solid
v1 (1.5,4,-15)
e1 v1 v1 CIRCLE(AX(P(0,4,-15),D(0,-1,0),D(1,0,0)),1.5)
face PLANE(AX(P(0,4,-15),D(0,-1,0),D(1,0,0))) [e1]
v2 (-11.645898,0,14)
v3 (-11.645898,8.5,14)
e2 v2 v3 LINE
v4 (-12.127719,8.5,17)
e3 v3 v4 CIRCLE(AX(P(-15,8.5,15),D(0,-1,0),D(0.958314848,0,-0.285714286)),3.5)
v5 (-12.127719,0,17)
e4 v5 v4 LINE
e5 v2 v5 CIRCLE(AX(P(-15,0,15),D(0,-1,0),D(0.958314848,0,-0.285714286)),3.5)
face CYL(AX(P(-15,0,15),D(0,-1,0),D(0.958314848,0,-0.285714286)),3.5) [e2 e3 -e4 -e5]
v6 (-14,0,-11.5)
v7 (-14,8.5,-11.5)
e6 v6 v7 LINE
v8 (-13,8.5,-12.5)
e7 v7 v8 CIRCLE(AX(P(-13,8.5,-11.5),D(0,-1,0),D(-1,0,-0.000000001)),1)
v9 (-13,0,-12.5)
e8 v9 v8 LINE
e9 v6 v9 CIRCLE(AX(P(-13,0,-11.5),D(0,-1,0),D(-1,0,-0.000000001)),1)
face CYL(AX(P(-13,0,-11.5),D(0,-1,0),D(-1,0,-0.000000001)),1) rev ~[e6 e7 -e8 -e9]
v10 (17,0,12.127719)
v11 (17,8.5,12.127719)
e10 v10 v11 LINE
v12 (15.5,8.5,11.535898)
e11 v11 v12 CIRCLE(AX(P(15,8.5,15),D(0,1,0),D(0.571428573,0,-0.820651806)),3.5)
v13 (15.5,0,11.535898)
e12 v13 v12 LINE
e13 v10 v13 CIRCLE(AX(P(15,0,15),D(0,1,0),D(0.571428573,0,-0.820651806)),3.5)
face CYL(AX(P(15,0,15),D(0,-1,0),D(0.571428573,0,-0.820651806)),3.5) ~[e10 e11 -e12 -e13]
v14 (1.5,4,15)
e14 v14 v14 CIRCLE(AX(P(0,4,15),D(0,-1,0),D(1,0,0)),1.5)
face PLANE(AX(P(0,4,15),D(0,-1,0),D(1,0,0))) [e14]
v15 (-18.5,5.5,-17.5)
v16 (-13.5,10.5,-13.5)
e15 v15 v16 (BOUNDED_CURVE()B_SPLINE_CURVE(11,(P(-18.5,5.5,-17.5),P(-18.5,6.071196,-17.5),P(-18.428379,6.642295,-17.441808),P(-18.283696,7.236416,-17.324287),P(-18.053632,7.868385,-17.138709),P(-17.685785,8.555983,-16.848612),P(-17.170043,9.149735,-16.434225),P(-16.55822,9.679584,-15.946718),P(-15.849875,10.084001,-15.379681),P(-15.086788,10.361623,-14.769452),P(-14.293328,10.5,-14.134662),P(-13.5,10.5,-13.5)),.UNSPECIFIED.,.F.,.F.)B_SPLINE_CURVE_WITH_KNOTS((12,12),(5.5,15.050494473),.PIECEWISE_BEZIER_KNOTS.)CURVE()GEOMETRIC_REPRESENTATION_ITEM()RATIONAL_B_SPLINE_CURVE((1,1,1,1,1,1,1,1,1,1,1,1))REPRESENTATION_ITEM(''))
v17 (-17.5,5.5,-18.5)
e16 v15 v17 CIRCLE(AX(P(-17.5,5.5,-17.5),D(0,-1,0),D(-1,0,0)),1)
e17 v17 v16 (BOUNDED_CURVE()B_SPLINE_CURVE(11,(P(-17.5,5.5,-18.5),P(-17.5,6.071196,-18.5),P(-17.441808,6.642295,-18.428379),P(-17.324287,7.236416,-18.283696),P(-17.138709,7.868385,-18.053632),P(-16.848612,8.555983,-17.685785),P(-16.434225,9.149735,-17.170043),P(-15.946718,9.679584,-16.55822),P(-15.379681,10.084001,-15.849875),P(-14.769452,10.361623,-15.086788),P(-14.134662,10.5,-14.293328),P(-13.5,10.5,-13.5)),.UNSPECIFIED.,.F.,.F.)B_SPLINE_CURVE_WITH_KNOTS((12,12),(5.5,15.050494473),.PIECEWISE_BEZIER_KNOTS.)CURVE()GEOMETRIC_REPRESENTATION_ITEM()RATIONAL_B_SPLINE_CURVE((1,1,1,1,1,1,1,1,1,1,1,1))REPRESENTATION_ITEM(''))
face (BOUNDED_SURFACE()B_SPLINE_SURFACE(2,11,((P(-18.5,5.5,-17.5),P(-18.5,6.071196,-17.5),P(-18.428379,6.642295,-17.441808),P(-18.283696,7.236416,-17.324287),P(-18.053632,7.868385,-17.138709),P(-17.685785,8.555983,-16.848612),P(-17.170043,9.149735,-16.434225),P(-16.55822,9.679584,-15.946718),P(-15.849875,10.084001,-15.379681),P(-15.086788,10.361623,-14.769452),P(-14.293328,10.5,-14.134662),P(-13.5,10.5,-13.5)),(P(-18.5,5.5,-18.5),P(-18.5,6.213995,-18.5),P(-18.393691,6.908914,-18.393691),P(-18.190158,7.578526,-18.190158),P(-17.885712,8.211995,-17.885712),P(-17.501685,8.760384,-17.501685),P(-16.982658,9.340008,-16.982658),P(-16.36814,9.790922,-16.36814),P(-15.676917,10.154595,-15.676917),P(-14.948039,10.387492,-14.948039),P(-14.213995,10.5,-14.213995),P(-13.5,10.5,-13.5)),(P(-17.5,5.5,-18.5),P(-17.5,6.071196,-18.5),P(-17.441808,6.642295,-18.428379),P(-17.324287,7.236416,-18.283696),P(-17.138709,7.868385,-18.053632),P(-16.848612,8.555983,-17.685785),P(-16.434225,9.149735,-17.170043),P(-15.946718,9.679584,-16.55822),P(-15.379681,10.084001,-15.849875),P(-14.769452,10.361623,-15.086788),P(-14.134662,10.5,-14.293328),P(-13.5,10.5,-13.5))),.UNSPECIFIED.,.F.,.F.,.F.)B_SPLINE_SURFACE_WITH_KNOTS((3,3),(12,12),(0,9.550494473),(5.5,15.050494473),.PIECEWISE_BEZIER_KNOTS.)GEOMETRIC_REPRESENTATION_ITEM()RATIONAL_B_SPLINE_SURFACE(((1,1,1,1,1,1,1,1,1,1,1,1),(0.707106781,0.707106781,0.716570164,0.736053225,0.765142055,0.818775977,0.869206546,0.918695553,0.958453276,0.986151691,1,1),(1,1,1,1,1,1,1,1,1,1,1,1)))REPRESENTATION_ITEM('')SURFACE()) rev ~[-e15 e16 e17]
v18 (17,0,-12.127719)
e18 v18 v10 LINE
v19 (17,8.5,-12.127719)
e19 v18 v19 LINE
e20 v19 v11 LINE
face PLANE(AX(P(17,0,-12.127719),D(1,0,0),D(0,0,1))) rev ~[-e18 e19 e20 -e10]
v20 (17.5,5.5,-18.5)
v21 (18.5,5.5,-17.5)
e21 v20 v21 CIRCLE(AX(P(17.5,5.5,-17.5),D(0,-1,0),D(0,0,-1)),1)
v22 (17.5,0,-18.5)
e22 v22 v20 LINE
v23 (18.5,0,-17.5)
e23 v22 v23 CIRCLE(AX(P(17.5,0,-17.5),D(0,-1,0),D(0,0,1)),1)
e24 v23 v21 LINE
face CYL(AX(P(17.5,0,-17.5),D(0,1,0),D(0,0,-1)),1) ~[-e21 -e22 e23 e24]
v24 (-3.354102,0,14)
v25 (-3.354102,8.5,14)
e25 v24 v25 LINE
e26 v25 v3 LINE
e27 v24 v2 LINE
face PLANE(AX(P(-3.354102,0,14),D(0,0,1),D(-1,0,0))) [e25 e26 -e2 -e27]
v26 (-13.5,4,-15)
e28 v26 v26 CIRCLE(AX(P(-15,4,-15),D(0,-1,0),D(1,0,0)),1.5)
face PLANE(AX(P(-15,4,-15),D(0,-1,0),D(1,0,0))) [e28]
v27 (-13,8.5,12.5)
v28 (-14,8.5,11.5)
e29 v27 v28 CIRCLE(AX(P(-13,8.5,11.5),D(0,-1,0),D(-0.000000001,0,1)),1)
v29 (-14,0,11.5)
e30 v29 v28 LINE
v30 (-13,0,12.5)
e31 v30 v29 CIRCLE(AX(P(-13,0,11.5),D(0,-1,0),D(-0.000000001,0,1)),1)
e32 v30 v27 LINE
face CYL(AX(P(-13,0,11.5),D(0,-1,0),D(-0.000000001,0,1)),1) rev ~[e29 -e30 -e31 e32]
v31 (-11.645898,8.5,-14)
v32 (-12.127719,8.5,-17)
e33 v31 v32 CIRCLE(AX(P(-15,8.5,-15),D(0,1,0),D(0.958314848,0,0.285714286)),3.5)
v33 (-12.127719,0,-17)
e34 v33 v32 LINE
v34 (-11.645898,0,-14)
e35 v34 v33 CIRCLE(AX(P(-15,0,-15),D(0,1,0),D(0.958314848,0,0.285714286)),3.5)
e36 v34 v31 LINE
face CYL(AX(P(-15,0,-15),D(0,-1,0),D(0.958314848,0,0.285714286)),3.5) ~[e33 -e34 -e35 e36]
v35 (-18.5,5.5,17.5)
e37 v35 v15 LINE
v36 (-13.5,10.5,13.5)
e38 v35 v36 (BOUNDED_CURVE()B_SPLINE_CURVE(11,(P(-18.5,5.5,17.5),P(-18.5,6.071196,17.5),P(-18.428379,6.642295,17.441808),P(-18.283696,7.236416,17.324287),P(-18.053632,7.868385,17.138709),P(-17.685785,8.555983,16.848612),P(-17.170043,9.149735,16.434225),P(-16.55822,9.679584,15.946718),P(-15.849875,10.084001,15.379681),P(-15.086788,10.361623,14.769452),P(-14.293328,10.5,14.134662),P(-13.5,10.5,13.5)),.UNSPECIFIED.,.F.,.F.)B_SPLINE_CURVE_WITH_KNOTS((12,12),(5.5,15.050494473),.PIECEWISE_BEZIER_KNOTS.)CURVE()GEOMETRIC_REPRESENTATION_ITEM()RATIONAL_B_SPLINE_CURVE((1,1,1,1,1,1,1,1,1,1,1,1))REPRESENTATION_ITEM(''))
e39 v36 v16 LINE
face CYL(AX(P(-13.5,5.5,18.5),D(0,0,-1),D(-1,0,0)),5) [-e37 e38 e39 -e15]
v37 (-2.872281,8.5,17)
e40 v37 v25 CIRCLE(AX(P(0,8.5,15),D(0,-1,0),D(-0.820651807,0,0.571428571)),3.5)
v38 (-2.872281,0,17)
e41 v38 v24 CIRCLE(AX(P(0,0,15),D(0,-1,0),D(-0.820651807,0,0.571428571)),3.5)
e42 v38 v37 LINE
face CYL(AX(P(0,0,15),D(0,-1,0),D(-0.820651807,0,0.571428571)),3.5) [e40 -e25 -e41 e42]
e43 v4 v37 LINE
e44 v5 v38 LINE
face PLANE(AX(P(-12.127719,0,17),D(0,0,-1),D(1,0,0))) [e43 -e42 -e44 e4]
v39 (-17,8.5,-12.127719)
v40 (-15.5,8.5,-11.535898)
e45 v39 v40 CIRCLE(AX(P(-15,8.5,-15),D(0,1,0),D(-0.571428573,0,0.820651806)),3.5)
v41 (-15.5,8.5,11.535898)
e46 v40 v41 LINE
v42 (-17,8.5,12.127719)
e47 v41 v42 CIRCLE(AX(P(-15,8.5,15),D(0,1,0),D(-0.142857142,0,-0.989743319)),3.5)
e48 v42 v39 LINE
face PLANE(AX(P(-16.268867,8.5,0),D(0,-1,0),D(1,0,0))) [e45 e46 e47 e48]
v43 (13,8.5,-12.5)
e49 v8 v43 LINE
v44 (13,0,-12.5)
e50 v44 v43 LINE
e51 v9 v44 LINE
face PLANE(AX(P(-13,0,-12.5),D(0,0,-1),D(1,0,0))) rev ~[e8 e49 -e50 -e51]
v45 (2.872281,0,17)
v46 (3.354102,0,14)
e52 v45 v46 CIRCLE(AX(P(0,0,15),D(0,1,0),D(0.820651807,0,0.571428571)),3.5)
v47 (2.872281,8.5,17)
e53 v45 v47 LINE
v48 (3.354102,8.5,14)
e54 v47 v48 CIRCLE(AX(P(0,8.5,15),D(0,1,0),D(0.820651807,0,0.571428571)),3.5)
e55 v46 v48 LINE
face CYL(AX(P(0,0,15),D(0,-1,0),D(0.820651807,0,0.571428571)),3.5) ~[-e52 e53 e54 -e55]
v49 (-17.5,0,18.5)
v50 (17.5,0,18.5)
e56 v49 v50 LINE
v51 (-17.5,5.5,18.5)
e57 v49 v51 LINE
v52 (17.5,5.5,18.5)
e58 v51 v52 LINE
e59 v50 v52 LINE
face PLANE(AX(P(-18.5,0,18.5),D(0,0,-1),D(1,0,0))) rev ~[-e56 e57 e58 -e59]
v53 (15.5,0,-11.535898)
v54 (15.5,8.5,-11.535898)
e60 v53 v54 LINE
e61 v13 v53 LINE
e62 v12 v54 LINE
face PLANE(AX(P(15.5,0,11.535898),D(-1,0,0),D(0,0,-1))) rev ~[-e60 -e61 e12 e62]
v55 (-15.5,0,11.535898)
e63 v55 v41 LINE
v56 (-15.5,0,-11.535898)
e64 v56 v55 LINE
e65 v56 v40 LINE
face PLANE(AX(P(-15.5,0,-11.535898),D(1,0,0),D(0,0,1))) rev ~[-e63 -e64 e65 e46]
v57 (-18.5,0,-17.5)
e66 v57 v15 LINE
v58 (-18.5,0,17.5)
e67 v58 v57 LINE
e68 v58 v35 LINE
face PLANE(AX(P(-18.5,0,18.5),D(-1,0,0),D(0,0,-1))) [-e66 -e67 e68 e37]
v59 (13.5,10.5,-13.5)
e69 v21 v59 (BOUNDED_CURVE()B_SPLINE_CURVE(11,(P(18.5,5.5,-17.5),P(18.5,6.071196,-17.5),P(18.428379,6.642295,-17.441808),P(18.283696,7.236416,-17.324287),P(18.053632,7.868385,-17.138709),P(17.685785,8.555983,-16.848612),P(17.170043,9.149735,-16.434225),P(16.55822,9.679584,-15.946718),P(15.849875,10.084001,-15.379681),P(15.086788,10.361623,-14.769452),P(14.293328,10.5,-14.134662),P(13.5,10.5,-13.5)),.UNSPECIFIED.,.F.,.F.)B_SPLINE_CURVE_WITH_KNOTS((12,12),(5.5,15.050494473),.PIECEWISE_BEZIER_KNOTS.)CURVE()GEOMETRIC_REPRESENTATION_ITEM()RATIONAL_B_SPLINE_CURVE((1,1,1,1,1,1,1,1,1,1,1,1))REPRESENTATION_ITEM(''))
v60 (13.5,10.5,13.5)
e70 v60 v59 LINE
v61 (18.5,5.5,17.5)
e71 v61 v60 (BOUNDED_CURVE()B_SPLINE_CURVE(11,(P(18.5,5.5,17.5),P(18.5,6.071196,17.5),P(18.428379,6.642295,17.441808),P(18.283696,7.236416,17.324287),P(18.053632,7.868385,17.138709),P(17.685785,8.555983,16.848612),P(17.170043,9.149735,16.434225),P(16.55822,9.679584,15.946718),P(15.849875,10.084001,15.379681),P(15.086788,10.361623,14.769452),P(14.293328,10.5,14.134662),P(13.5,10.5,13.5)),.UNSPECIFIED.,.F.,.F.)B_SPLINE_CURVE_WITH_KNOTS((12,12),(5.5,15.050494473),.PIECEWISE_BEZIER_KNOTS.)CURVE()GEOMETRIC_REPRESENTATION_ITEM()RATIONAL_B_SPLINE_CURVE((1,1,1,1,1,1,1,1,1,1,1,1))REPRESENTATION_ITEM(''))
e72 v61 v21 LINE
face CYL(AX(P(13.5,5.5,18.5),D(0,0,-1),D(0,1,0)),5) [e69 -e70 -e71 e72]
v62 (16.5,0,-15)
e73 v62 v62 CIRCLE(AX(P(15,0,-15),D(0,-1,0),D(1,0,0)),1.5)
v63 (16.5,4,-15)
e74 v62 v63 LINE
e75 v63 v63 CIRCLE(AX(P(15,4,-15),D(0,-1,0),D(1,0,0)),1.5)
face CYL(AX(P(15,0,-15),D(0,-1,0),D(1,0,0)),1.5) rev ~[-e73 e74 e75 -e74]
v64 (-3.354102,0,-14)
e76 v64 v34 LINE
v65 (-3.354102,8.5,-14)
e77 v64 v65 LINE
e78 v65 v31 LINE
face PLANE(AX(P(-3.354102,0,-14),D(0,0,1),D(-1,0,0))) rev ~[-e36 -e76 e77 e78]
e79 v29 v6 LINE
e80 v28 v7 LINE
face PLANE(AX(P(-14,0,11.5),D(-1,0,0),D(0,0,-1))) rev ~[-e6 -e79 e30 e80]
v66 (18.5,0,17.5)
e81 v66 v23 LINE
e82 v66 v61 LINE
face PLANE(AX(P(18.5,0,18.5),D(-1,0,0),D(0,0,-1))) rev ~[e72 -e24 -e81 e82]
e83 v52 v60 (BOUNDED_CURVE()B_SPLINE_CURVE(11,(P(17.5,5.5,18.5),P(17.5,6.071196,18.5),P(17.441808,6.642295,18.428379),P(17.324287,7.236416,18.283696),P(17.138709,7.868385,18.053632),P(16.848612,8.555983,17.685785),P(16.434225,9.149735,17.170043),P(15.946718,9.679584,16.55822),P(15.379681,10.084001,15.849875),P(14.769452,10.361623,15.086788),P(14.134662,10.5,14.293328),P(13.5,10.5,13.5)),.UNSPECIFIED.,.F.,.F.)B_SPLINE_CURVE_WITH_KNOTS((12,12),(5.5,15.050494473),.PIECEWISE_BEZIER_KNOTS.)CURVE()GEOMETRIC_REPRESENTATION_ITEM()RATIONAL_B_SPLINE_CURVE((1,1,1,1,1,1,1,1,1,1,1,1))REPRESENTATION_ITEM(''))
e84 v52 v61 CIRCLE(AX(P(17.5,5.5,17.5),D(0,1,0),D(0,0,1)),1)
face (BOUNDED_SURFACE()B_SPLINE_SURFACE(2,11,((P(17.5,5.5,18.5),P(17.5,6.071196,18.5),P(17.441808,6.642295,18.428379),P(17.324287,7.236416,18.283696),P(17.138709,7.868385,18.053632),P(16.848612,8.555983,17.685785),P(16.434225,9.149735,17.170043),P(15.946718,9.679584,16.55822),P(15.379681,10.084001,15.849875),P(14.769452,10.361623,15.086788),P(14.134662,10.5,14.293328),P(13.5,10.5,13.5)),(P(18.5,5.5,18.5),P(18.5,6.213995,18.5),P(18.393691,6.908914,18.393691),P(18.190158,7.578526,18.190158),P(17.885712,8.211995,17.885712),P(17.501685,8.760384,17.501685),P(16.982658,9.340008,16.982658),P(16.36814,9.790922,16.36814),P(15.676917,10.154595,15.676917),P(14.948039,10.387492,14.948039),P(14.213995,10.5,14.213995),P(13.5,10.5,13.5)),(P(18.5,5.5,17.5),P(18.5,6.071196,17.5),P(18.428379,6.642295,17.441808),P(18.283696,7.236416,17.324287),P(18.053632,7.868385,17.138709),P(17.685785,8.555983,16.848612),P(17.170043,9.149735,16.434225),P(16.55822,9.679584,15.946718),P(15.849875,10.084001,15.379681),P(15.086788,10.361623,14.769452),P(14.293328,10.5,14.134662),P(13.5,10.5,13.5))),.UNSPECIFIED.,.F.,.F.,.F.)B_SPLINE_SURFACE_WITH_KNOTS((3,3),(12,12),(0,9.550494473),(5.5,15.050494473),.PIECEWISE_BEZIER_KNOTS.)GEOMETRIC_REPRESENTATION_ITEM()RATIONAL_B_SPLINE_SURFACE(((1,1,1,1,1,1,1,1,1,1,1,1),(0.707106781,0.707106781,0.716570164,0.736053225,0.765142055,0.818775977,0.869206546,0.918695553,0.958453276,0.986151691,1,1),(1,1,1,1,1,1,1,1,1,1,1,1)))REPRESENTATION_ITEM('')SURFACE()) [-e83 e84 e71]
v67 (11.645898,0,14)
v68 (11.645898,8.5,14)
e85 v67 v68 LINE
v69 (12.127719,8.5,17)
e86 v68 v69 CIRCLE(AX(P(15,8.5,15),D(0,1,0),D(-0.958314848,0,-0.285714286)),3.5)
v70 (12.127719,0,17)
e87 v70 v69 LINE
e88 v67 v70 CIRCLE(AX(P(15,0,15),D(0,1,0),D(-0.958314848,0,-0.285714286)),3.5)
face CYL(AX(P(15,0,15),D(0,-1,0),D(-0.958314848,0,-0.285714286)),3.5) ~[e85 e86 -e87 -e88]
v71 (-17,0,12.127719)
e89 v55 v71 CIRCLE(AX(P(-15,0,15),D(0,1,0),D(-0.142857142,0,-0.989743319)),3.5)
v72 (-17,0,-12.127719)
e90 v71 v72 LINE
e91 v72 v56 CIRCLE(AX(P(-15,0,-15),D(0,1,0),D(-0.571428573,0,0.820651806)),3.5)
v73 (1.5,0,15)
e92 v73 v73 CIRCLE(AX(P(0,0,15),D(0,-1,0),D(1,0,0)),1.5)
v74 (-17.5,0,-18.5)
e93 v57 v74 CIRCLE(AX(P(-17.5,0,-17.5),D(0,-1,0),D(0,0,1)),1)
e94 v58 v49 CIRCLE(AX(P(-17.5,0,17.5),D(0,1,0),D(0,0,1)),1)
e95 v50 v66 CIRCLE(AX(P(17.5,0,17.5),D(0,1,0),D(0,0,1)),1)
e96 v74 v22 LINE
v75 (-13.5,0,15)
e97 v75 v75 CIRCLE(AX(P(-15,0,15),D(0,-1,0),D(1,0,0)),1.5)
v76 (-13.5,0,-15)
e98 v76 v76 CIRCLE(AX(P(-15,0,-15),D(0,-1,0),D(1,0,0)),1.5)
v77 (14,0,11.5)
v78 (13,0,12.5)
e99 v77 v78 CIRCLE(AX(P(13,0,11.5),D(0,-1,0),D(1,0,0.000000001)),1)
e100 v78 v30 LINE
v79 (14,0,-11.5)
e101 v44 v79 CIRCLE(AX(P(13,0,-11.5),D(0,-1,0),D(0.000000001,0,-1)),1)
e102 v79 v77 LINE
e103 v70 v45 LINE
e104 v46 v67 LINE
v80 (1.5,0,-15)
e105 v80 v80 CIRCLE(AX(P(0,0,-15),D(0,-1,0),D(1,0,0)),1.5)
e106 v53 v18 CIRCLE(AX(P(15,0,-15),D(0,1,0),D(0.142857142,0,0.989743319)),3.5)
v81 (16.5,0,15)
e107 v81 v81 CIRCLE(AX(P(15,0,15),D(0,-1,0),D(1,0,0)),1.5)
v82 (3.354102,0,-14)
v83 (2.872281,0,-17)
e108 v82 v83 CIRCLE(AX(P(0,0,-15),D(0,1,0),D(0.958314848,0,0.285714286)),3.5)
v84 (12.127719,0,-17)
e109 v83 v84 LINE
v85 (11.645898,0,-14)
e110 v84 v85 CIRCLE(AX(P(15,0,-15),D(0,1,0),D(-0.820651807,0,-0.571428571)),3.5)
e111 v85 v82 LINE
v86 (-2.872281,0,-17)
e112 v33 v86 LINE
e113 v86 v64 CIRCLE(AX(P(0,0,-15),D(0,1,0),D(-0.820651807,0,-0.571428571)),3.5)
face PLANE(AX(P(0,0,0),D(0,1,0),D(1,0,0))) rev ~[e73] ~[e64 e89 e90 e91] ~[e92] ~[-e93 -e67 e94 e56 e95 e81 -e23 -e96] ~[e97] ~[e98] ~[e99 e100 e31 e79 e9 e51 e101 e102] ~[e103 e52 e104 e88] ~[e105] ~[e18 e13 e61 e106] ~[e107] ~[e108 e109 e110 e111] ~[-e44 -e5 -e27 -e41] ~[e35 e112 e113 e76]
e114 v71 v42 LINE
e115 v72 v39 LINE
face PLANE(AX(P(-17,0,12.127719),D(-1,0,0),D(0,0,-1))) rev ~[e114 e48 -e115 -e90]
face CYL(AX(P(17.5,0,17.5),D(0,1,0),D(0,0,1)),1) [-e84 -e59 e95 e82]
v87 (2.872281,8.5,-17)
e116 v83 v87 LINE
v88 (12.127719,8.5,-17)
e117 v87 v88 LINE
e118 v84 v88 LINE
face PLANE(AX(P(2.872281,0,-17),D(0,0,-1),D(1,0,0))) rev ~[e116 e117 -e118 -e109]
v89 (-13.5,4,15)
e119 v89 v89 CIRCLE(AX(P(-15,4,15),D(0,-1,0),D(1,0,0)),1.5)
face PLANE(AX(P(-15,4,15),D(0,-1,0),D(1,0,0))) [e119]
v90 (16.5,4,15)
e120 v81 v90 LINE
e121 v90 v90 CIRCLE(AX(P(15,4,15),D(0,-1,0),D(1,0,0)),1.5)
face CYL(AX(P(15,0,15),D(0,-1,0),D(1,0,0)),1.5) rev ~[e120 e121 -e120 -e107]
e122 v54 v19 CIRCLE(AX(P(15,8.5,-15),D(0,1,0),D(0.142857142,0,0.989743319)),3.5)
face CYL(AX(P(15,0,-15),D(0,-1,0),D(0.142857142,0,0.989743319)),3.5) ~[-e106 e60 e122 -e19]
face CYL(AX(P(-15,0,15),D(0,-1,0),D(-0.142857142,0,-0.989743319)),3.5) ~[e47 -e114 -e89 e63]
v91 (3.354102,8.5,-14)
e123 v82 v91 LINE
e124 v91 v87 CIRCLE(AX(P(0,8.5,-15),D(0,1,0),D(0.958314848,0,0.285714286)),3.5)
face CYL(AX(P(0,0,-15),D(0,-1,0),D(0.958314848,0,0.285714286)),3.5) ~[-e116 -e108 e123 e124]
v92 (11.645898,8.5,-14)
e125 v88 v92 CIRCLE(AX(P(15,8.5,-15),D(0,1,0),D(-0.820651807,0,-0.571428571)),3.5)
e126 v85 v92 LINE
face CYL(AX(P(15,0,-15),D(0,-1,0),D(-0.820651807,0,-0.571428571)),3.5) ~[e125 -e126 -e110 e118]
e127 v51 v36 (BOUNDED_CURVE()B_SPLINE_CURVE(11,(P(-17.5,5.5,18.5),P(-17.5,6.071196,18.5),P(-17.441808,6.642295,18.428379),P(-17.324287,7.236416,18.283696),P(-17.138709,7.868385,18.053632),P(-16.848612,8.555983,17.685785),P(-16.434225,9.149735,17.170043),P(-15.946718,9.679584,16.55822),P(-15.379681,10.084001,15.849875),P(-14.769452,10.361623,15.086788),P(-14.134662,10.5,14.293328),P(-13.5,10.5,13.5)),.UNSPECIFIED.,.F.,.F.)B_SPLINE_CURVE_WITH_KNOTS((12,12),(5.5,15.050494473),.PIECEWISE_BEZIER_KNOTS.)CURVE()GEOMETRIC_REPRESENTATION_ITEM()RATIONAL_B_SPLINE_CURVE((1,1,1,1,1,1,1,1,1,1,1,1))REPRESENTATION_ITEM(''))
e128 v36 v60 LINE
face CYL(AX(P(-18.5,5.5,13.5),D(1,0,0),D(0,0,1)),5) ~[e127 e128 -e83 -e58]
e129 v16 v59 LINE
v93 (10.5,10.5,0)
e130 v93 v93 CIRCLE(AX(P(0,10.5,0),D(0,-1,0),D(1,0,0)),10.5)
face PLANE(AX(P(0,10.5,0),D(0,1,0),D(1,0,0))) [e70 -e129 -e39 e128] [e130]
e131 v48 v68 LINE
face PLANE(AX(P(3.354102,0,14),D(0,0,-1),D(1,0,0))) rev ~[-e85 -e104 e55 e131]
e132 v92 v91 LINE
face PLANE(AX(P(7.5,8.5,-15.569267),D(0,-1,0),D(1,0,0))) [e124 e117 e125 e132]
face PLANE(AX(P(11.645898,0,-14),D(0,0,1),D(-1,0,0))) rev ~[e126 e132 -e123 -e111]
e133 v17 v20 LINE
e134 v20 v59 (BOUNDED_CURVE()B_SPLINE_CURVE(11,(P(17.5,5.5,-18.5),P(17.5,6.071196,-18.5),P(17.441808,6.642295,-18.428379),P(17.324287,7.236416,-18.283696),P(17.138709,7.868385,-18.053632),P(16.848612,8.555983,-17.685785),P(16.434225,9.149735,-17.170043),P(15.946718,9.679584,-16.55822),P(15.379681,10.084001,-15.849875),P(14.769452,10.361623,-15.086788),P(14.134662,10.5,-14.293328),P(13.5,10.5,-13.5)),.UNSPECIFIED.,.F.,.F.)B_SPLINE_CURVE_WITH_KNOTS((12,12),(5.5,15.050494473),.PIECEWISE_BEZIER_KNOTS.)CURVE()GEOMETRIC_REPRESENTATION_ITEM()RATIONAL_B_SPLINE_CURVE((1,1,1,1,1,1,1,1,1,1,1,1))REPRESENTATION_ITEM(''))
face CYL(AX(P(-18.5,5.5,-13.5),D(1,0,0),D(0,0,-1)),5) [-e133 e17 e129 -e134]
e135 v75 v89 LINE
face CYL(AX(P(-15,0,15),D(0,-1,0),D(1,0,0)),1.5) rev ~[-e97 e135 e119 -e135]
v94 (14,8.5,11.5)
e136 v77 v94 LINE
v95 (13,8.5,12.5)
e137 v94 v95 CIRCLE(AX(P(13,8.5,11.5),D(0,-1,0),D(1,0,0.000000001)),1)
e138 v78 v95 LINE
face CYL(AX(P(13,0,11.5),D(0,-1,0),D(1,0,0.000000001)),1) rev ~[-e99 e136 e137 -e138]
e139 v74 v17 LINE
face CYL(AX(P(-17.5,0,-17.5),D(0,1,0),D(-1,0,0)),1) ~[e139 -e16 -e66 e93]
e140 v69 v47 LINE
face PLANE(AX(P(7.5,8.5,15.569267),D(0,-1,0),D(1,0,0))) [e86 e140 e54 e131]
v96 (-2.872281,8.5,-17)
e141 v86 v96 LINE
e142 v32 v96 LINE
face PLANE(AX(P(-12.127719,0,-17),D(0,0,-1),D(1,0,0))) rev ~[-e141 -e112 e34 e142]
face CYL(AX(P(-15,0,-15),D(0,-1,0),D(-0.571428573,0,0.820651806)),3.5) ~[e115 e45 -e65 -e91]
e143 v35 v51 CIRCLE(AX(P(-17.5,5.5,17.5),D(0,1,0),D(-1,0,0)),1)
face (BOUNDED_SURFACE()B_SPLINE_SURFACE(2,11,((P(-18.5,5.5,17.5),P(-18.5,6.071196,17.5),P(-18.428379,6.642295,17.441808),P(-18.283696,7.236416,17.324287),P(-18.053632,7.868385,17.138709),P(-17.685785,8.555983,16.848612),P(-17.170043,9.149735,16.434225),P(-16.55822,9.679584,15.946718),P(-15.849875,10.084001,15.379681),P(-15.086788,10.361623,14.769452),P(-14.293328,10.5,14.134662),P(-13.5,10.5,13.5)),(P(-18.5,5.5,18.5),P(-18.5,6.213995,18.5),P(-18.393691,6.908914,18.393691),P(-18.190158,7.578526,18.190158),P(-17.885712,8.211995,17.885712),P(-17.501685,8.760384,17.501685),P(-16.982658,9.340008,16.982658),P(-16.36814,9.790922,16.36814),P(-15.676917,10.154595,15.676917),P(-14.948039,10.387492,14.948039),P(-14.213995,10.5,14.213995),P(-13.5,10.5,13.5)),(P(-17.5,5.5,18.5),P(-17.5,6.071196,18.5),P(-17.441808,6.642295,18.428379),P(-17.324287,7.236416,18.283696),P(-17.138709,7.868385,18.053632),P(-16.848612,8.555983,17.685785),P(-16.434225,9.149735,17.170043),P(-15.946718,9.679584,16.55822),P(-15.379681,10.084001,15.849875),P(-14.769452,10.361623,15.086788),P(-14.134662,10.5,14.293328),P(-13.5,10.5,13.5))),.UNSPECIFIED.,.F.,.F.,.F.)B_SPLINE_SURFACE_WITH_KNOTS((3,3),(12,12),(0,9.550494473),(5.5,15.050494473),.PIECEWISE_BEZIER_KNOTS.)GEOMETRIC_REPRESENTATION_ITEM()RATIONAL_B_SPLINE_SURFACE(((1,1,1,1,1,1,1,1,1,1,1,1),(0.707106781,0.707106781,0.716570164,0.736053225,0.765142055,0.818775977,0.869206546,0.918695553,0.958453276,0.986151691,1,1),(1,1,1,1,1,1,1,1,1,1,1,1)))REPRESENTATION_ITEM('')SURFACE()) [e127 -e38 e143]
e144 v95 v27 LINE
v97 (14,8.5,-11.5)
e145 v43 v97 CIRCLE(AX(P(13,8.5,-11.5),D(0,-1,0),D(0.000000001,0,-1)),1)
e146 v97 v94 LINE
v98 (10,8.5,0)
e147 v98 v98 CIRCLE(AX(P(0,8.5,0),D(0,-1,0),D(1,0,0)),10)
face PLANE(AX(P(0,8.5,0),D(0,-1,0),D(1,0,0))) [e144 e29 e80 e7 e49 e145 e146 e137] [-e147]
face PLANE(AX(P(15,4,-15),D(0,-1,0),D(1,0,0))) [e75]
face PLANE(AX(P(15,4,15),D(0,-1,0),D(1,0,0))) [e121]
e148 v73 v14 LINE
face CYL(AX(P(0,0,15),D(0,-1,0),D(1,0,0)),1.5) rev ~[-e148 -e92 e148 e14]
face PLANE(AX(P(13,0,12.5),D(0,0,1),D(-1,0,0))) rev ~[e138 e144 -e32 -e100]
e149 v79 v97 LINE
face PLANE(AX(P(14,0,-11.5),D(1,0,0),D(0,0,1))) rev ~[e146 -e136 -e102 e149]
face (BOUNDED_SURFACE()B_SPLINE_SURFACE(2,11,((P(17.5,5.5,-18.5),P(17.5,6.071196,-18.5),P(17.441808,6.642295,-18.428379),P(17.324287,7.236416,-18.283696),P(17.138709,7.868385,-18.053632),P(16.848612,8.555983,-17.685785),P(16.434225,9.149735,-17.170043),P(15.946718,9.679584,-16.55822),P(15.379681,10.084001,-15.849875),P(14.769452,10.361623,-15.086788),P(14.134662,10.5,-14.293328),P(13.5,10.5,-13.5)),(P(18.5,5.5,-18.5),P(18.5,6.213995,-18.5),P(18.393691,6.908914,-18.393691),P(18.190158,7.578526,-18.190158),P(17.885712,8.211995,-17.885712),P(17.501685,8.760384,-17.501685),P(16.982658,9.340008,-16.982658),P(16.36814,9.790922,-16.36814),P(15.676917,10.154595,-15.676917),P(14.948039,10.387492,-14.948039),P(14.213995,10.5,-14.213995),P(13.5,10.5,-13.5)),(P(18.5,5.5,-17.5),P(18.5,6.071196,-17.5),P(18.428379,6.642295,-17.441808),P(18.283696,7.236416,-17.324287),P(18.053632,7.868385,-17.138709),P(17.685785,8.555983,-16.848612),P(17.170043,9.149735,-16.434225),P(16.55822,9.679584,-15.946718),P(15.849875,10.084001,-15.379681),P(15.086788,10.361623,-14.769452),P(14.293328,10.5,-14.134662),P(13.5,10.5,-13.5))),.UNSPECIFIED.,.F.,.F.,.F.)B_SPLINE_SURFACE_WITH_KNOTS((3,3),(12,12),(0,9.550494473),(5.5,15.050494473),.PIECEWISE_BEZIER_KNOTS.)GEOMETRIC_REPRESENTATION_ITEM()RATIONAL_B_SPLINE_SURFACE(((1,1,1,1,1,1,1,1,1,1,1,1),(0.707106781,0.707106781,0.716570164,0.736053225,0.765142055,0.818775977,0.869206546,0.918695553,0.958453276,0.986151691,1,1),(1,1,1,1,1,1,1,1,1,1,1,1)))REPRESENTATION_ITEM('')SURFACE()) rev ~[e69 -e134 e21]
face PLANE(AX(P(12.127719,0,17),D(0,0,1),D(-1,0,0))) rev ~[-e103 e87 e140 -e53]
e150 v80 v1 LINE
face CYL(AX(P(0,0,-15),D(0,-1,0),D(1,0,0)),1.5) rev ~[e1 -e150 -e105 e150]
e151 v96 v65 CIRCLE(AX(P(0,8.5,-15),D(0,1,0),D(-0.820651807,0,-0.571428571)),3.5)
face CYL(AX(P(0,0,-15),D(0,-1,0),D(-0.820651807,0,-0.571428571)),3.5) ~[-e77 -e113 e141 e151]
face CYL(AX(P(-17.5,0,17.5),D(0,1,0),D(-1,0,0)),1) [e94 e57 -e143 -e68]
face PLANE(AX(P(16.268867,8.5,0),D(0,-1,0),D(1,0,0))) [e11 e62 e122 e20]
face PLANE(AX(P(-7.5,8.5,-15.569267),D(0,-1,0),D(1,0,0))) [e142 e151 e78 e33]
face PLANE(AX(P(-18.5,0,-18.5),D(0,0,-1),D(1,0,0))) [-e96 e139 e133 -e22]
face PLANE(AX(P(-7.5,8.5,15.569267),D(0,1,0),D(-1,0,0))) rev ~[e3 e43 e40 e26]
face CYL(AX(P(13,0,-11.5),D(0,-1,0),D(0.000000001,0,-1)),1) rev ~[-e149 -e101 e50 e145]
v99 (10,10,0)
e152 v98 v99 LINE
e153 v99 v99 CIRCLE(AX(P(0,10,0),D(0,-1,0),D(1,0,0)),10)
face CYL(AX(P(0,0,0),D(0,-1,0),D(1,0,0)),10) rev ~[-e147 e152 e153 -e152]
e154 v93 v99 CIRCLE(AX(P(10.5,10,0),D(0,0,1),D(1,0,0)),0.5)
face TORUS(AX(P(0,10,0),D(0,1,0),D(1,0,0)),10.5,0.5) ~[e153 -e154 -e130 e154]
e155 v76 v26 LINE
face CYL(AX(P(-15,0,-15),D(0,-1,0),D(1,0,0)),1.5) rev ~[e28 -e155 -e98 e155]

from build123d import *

# Parameters (mm, degrees)
SKETCH_1_W          = 37
SKETCH_1_H          = 37
EXTRUDE_1_DEPTH     = 10.5
SKETCH_2_R          = 10
CUT_EXTRUDE_1_DEPTH = 11.5
FILLET_1_R          = 5
FILLET_2_R          = 1
SKETCH_3_R          = 1.5
CUT_EXTRUDE_2_DEPTH = 4
CUT_EXTRUDE_3_DEPTH = 8.5
CUT_EXTRUDE_4_DEPTH = 8.5
FILLET_4_R          = 0.5


with BuildPart() as part:
    # 草图1 → 凸台-拉伸1 (new body)
    with BuildSketch(Plane(origin=(0, 0, 0), x_dir=(1, 0, 0), z_dir=(0, 1, 0))):
        Rectangle(SKETCH_1_W, SKETCH_1_H)
    extrude(amount=EXTRUDE_1_DEPTH)

    # 草图2 → 切除-拉伸1 (cut, through all)
    with BuildSketch(Plane.XZ):
        Circle(SKETCH_2_R)
    extrude(amount=-CUT_EXTRUDE_1_DEPTH, mode=Mode.SUBTRACT)

    # 圆角1
    fillet_1_edges = [part.edges().sort_by_distance(p)[0] for p in [
        (-18.5, 10.5, 0),
        (0, 10.5, 18.5),
        (18.5, 10.5, 0),
        (0, 10.5, -18.5),
    ]]
    fillet(fillet_1_edges, radius=FILLET_1_R)

    # 圆角2
    fillet_2_edges = [part.edges().sort_by_distance(p)[0] for p in [
        (18.5, 2.75, -18.5),
        (18.5, 2.75, 18.5),
        (-18.5, 2.75, 18.5),
        (-18.5, 2.75, -18.5),
        (-16.730244537, 9.316480084, 16.730244537),
        (-16.730244537, 9.316480084, -16.730244537),
        (16.730244537, 9.316480084, 16.730244537),
        (16.730244537, 9.316480084, -16.730244537),
    ]]
    fillet(fillet_2_edges, radius=FILLET_2_R)

    # 草图3 → 切除-拉伸2 (cut)
    with BuildSketch(Plane.XZ):
        with Locations((15, 15)):
            Circle(SKETCH_3_R)
        with Locations((15, -15)):
            Circle(SKETCH_3_R)
        with Locations((0, -15)):
            Circle(SKETCH_3_R)
        with Locations((-15, -15)):
            Circle(SKETCH_3_R)
        with Locations((-15, 15)):
            Circle(SKETCH_3_R)
        with Locations((0, 15)):
            Circle(SKETCH_3_R)
    extrude(amount=-CUT_EXTRUDE_2_DEPTH, mode=Mode.SUBTRACT)

    # 草图4 → 切除-拉伸3 (cut)
    with BuildSketch(Plane.XZ):
        with BuildLine():
            Line((13, 12.5), (-13, 12.5))
            ThreePointArc((-13, 12.5), (-13.707106781, 12.207106781), (-14, 11.5))
            Line((-14, 11.5), (-14, -11.5))
            ThreePointArc((-14, -11.5), (-13.707106781, -12.207106781), (-13, -12.5))
            Line((-13, -12.5), (13, -12.5))
            ThreePointArc((13, -12.5), (13.707106781, -12.207106781), (14, -11.5))
            Line((14, -11.5), (14, 11.5))
            ThreePointArc((14, 11.5), (13.707106781, 12.207106781), (13, 12.5))
        make_face()
    extrude(amount=-CUT_EXTRUDE_3_DEPTH, mode=Mode.SUBTRACT)

    # 草图5 → 切除-拉伸4 (cut)
    with BuildSketch(Plane.XZ):
        with BuildLine():
            Line((-17, 12.127718677), (-17, -12.127718677))
            ThreePointArc((-17, -12.127718677), (-16.284547708, -11.744245527), (-15.5, -11.535898385))
            Line((-15.5, -11.535898385), (-15.5, 11.535898385))
            ThreePointArc((-15.5, 11.535898385), (-16.284547708, 11.744245527), (-17, 12.127718677))
        make_face()
        with BuildLine():
            Line((-12.127718677, -17), (-2.872281323, -17))
            ThreePointArc((-2.872281323, -17), (-3.455714429, -15.555011516), (-3.354101966, -14))
            Line((-3.354101966, -14), (-11.645898034, -14))
            ThreePointArc((-11.645898034, -14), (-11.544285571, -15.555011516), (-12.127718677, -17))
        make_face()
        with BuildLine():
            Line((17, -12.127718677), (17, 12.127718677))
            ThreePointArc((17, 12.127718677), (16.284547708, 11.744245527), (15.5, 11.535898385))
            Line((15.5, 11.535898385), (15.5, -11.535898385))
            ThreePointArc((15.5, -11.535898385), (16.284547708, -11.744245527), (17, -12.127718677))
        make_face()
        with BuildLine():
            Line((12.127718677, 17), (2.872281323, 17))
            ThreePointArc((2.872281323, 17), (3.455714429, 15.555011516), (3.354101966, 14))
            Line((3.354101966, 14), (11.645898034, 14))
            ThreePointArc((11.645898034, 14), (11.544285571, 15.555011516), (12.127718677, 17))
        make_face()
        with BuildLine():
            Line((-3.354101966, 14), (-11.645898034, 14))
            ThreePointArc((-11.645898034, 14), (-11.544285571, 15.555011516), (-12.127718677, 17))
            Line((-12.127718677, 17), (-2.872281323, 17))
            ThreePointArc((-2.872281323, 17), (-3.455714429, 15.555011516), (-3.354101966, 14))
        make_face()
        with BuildLine():
            Line((2.872281323, -17), (12.127718677, -17))
            ThreePointArc((12.127718677, -17), (11.544285571, -15.555011516), (11.645898034, -14))
            Line((11.645898034, -14), (3.354101966, -14))
            ThreePointArc((3.354101966, -14), (3.455714429, -15.555011516), (2.872281323, -17))
        make_face()
    extrude(amount=-CUT_EXTRUDE_4_DEPTH, mode=Mode.SUBTRACT)

    # 圆角4
    fillet_4_edges = [part.edges().sort_by_distance(p)[0] for p in [
        (-10, 10.5, 0),
    ]]
    fillet(fillet_4_edges, radius=FILLET_4_R)


solid = part.part
